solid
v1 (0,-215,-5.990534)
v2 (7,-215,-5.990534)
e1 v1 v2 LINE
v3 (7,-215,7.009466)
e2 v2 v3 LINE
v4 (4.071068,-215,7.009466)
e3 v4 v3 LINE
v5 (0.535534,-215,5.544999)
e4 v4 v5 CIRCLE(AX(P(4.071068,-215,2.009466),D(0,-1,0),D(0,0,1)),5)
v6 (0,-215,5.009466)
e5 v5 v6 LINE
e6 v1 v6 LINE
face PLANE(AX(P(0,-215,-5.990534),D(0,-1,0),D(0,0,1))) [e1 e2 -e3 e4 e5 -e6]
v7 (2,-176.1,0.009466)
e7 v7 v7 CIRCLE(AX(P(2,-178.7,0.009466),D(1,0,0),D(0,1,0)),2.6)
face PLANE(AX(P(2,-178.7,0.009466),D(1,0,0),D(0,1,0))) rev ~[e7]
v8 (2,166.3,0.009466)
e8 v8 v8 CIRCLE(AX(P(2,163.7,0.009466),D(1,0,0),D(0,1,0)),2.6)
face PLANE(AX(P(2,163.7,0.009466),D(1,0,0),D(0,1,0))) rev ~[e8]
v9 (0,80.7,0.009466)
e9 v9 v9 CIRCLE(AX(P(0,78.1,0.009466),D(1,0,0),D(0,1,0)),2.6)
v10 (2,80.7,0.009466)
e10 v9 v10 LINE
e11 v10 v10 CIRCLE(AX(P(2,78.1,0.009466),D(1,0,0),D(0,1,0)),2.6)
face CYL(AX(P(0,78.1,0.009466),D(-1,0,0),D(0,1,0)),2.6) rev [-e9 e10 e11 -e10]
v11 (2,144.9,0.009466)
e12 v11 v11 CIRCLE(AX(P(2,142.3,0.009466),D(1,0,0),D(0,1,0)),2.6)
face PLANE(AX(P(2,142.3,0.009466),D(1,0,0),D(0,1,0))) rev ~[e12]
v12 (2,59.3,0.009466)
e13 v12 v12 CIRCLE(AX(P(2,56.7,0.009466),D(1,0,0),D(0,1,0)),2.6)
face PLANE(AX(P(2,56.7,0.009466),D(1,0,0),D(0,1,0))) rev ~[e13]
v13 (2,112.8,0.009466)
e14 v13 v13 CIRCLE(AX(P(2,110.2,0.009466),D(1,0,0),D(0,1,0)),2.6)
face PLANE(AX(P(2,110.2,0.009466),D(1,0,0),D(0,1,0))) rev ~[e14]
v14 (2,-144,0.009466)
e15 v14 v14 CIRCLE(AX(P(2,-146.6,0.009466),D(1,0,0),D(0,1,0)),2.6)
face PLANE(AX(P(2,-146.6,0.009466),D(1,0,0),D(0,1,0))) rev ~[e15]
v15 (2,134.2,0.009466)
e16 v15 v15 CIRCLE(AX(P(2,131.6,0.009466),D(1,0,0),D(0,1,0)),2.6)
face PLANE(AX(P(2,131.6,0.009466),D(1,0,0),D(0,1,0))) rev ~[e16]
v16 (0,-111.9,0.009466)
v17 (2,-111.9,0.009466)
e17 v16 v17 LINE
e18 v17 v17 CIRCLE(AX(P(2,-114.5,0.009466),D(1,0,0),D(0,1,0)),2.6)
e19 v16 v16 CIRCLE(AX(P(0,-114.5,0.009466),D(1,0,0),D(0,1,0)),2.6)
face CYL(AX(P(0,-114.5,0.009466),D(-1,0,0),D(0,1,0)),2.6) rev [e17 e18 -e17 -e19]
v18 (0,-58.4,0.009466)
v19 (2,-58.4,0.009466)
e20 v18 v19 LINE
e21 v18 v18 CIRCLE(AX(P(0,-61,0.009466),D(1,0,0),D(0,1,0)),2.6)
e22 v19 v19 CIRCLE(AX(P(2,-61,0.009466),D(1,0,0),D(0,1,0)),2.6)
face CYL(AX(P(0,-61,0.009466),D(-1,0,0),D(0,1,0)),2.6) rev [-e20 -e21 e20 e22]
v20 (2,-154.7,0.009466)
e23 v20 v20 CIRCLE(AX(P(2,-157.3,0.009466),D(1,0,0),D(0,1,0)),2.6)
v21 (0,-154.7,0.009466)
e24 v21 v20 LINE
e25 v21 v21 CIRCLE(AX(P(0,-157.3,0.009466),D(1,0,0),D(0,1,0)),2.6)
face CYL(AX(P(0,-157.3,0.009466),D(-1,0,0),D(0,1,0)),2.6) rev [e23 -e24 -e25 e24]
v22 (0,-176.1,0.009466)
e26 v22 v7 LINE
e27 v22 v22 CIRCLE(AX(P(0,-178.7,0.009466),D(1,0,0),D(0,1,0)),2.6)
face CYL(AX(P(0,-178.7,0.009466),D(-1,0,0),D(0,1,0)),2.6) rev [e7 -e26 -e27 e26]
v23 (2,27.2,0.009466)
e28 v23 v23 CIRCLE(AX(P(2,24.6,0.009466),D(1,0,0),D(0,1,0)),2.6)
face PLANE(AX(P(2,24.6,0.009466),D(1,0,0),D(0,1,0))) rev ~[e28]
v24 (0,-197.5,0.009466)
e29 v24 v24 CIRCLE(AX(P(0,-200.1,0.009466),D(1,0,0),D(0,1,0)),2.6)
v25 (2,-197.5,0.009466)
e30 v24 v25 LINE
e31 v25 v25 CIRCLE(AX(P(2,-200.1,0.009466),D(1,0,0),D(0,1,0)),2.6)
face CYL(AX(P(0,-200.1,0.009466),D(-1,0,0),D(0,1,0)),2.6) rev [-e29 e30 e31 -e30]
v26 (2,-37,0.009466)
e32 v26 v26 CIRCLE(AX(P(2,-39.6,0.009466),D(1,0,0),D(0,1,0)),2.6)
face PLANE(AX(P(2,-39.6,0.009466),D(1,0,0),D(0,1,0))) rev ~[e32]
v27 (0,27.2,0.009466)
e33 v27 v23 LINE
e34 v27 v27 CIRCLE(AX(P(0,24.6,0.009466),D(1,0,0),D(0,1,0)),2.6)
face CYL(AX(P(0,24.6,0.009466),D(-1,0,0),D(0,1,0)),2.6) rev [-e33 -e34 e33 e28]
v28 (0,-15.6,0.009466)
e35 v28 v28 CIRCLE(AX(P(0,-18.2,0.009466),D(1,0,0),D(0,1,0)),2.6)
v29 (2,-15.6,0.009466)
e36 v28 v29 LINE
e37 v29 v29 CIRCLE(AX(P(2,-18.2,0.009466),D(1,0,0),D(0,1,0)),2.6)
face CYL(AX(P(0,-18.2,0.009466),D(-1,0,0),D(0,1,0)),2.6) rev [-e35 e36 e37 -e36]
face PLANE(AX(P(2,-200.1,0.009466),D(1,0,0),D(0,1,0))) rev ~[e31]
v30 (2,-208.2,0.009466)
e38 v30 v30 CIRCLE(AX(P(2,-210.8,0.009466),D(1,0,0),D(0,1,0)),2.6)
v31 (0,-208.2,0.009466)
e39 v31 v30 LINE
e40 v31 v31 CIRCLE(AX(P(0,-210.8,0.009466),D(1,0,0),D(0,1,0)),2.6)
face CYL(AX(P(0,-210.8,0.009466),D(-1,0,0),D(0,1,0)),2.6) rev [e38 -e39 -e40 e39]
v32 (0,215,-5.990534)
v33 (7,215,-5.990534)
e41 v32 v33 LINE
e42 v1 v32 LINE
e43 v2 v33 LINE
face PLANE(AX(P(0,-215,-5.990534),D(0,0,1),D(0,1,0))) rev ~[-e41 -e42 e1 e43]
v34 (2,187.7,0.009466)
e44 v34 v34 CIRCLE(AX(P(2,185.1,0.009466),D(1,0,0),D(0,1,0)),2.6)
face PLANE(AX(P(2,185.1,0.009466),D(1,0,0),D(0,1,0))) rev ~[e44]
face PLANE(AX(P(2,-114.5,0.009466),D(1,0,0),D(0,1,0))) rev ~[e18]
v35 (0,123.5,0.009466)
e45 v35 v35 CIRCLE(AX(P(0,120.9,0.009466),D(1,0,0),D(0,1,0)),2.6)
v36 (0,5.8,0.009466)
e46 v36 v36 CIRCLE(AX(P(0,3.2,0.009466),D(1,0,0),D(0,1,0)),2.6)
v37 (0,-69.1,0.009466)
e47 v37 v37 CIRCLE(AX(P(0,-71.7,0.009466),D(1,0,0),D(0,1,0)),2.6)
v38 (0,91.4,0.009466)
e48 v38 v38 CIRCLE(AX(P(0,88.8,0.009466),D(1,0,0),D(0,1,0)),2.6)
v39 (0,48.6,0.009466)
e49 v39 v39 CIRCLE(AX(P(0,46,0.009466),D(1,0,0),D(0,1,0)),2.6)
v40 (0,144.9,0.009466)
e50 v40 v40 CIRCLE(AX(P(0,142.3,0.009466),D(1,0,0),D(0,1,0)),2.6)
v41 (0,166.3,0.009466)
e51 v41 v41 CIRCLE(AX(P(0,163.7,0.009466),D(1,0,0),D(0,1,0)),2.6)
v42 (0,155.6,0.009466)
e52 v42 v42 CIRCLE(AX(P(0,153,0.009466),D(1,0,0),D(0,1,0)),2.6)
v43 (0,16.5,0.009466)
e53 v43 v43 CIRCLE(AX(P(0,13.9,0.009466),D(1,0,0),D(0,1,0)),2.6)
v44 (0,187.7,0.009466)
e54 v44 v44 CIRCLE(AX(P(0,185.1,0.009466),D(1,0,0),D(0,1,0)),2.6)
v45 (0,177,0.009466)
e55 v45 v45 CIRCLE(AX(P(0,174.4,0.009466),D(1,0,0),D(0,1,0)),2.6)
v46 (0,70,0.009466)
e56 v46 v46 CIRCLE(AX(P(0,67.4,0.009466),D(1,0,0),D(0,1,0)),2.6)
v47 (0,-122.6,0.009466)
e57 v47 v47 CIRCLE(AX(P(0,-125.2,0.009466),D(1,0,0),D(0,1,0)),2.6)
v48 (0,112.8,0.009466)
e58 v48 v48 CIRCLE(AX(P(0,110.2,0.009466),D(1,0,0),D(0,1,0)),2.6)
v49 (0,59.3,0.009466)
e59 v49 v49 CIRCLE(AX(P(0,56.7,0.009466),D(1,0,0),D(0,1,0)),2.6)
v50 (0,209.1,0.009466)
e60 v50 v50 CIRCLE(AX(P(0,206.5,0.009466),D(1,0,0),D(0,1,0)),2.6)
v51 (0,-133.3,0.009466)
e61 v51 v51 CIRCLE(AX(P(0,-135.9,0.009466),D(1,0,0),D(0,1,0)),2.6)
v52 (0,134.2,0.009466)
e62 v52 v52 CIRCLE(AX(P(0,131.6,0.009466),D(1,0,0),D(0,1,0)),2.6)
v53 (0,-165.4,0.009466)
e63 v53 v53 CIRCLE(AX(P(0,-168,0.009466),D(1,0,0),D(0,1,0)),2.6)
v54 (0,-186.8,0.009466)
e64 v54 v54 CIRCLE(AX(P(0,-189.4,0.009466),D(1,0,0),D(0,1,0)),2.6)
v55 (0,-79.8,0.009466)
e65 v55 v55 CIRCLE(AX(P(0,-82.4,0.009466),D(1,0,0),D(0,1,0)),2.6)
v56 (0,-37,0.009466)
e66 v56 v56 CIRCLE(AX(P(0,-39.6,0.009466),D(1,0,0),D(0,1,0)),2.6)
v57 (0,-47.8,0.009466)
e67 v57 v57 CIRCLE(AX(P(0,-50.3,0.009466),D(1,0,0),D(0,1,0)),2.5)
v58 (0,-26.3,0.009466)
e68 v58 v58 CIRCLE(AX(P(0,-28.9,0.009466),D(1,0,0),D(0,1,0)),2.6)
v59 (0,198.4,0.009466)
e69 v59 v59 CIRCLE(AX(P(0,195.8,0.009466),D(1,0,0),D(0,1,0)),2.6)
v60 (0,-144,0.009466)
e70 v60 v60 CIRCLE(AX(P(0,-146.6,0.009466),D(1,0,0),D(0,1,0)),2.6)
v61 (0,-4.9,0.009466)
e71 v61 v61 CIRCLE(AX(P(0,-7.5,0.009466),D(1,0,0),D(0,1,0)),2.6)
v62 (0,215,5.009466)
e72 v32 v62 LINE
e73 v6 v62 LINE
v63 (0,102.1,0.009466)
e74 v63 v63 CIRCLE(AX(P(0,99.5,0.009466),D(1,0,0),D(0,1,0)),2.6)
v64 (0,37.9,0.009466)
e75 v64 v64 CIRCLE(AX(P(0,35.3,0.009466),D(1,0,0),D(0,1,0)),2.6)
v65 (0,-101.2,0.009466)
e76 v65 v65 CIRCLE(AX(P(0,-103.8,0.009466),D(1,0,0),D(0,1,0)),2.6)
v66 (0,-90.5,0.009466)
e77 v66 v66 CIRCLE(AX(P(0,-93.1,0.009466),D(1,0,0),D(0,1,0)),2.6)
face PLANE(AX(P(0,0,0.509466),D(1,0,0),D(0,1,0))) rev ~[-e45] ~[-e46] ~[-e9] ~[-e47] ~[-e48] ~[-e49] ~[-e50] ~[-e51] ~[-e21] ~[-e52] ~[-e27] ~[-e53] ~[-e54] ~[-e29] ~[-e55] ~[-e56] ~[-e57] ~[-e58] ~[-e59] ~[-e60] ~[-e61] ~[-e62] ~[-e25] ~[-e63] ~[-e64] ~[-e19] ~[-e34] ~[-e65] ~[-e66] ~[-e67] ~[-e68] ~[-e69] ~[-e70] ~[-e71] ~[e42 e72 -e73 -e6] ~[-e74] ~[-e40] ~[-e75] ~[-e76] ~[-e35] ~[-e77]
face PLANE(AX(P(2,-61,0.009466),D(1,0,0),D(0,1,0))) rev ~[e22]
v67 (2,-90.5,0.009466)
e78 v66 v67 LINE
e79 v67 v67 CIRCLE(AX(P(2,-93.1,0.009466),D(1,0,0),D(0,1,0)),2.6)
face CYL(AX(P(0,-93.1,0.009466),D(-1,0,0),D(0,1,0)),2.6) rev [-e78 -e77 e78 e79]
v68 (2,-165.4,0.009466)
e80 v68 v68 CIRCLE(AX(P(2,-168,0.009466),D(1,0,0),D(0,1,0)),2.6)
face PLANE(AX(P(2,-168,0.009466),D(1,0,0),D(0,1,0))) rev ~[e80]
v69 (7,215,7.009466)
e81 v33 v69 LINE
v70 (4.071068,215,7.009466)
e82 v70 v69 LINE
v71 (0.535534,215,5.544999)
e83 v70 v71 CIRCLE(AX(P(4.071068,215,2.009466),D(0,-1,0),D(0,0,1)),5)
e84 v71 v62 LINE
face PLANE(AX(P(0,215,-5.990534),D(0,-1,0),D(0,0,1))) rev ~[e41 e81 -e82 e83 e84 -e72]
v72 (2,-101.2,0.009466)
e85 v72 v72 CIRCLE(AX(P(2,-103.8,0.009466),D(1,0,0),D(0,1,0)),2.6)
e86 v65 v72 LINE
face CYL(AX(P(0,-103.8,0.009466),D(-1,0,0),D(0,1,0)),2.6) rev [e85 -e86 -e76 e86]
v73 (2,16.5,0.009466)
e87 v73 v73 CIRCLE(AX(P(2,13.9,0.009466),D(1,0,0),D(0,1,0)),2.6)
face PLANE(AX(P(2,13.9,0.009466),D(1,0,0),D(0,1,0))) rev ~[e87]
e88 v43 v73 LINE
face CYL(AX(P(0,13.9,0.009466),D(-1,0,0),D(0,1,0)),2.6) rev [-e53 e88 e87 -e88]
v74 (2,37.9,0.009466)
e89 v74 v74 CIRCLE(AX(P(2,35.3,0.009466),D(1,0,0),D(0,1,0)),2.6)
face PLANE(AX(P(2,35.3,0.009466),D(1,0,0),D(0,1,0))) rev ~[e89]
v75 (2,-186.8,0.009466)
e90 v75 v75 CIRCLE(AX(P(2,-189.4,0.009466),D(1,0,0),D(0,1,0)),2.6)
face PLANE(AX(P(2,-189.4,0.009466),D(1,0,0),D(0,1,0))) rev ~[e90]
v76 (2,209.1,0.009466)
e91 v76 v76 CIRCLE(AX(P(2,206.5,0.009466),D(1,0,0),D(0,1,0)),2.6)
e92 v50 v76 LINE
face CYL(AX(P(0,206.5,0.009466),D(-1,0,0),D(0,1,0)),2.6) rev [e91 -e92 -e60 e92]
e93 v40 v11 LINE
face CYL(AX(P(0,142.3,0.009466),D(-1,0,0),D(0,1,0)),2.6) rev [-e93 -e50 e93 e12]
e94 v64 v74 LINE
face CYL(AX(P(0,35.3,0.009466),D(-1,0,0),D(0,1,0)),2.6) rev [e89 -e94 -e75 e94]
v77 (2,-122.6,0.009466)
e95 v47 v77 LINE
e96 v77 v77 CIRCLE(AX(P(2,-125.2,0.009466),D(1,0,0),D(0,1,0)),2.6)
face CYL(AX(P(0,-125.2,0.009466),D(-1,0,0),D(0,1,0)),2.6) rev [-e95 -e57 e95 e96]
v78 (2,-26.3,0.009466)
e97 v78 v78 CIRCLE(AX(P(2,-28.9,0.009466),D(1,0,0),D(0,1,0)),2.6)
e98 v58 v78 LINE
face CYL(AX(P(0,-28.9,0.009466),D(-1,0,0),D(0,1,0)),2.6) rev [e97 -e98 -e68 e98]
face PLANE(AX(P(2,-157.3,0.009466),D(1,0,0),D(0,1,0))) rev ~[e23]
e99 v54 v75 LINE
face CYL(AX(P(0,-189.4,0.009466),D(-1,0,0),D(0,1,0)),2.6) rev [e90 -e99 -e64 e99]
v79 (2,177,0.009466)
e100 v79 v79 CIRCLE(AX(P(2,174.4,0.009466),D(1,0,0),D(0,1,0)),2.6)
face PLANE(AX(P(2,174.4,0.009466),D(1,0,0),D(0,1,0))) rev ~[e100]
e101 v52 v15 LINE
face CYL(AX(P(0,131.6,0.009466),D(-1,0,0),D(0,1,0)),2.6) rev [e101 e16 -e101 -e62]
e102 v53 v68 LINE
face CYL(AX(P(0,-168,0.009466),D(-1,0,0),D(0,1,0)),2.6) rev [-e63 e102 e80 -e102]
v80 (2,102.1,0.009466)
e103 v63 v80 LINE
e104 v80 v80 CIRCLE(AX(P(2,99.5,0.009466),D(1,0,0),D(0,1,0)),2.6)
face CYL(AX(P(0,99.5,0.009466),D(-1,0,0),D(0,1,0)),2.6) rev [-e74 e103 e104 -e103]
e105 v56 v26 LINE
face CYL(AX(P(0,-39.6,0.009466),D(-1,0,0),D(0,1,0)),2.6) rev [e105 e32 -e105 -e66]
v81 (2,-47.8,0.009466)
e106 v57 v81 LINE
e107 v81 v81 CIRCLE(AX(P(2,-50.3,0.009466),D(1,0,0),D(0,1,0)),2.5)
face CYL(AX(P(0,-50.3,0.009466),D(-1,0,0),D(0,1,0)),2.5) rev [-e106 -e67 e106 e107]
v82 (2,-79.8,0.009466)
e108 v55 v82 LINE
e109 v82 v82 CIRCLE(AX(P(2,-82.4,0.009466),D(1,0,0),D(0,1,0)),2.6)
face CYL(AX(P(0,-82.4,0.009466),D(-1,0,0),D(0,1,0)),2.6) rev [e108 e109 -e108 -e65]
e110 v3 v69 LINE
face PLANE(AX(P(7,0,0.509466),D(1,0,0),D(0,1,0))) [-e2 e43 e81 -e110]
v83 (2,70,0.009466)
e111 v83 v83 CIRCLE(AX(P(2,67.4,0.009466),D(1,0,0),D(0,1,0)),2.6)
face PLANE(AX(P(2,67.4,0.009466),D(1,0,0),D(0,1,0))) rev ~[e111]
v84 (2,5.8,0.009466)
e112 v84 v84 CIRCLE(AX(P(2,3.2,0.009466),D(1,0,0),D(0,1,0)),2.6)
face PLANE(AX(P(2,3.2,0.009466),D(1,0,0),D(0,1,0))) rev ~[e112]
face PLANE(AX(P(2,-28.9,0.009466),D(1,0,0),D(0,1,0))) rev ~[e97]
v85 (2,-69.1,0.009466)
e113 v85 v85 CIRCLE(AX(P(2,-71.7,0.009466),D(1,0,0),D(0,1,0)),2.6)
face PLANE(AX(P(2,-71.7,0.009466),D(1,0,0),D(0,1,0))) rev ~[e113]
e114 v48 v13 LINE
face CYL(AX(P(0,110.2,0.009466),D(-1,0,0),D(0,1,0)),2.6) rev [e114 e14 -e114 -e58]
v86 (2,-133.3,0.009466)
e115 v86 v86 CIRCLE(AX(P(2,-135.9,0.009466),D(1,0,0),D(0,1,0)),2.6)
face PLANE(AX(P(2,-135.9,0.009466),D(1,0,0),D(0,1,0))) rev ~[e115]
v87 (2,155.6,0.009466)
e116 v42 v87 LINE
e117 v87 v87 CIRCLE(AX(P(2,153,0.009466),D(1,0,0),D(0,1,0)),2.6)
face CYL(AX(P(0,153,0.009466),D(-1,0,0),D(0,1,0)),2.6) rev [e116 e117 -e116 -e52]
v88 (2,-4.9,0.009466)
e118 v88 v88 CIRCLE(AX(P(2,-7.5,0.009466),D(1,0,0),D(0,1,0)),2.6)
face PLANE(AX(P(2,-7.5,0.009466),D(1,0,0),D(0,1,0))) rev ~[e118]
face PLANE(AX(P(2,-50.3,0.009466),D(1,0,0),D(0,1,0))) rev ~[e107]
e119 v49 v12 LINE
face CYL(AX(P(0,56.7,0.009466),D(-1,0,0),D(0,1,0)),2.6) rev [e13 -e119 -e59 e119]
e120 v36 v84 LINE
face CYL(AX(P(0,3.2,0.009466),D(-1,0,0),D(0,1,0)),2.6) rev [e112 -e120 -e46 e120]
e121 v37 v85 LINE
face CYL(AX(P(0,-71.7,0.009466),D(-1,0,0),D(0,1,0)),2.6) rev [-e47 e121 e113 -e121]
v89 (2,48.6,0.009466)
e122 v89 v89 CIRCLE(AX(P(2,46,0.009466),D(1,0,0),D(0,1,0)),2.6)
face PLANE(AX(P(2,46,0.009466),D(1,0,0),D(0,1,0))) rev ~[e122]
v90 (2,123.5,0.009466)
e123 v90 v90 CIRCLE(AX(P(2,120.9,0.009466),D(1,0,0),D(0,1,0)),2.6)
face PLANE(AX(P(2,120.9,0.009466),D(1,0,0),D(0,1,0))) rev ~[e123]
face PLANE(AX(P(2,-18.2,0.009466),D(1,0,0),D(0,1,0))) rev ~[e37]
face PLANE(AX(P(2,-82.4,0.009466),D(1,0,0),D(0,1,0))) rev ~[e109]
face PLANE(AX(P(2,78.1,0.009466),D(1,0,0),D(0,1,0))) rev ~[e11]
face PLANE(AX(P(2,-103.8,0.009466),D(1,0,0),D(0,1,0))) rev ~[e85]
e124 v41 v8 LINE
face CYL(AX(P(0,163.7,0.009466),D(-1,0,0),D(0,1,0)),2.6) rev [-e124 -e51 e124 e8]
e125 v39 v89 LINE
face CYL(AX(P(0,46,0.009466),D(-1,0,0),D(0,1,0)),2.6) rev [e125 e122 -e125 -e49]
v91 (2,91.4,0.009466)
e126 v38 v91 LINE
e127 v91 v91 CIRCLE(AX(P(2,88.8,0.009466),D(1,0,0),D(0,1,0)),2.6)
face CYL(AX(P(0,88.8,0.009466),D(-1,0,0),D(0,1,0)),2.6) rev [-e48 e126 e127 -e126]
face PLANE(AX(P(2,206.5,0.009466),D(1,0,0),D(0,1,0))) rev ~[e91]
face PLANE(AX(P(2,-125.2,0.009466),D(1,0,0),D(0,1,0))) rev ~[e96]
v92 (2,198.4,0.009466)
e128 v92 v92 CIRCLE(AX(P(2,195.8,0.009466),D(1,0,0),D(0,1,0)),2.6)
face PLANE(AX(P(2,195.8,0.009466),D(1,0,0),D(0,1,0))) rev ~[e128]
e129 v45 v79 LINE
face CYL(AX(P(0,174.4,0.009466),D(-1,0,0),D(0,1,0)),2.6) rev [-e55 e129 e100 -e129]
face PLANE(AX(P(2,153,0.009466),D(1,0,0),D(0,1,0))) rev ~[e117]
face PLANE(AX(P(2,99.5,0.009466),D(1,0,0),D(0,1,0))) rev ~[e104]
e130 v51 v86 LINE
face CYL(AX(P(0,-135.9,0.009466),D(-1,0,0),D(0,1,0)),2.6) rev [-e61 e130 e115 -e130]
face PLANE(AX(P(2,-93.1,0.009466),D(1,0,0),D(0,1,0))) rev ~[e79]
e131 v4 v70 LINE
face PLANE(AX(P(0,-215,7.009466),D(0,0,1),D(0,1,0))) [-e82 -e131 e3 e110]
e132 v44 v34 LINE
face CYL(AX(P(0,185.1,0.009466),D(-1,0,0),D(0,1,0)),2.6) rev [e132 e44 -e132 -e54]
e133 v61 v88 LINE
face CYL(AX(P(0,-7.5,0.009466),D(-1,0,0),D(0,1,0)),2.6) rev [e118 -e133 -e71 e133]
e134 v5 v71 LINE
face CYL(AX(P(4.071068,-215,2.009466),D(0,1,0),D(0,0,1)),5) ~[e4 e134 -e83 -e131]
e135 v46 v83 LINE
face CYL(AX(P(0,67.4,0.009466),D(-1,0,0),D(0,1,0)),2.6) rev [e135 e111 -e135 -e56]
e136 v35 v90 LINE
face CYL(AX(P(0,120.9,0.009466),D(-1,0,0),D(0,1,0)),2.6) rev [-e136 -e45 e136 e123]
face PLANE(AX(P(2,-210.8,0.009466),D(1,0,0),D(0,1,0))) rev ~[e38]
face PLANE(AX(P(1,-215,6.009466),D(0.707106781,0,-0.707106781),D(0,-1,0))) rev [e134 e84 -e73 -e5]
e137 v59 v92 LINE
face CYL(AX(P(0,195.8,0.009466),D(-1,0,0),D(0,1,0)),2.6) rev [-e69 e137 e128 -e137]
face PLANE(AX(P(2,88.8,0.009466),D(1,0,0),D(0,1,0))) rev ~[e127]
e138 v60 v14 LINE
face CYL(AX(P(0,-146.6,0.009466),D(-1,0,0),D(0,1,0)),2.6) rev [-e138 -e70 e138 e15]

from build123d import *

# Parameters (mm, degrees)
F0_W     = 430
F0_H     = 13
F0_R     = 2.6
F0_R_2   = 2.5
F1_DEPTH = 7
F2_DEPTH = 2
F3_SIZE  = 2
F4_R     = 5


with BuildPart() as f1:
    # F0 (on Right) → F1 (new body)
    with BuildSketch(Plane.YZ):
        with Locations((0, 0.5094655789)):
            Rectangle(F0_W, F0_H)
        with Locations((-210.8, 0.0094655789)):
            Circle(F0_R, mode=Mode.SUBTRACT)
        with Locations((-200.1, 0.0094655789)):
            Circle(F0_R, mode=Mode.SUBTRACT)
        with Locations((-189.4, 0.0094655789)):
            Circle(F0_R, mode=Mode.SUBTRACT)
        with Locations((-178.7, 0.0094655789)):
            Circle(F0_R, mode=Mode.SUBTRACT)
        with Locations((-168, 0.0094655789)):
            Circle(F0_R, mode=Mode.SUBTRACT)
        with Locations((-157.3, 0.0094655789)):
            Circle(F0_R, mode=Mode.SUBTRACT)
        with Locations((-146.6, 0.0094655789)):
            Circle(F0_R, mode=Mode.SUBTRACT)
        with Locations((-135.9, 0.0094655789)):
            Circle(F0_R, mode=Mode.SUBTRACT)
        with Locations((-125.2, 0.0094655789)):
            Circle(F0_R, mode=Mode.SUBTRACT)
        with Locations((-114.5, 0.0094655789)):
            Circle(F0_R, mode=Mode.SUBTRACT)
        with Locations((-103.8, 0.0094655789)):
            Circle(F0_R, mode=Mode.SUBTRACT)
        with Locations((-93.1, 0.0094655789)):
            Circle(F0_R, mode=Mode.SUBTRACT)
        with Locations((-82.4, 0.0094655789)):
            Circle(F0_R, mode=Mode.SUBTRACT)
        with Locations((-71.7, 0.0094655789)):
            Circle(F0_R, mode=Mode.SUBTRACT)
        with Locations((-61, 0.0094655789)):
            Circle(F0_R, mode=Mode.SUBTRACT)
        with Locations((-50.3, 0.0094655789)):
            Circle(F0_R_2, mode=Mode.SUBTRACT)
        with Locations((-39.6, 0.0094655789)):
            Circle(F0_R, mode=Mode.SUBTRACT)
        with Locations((-28.9, 0.0094655789)):
            Circle(F0_R, mode=Mode.SUBTRACT)
        with Locations((-18.2, 0.0094655789)):
            Circle(F0_R, mode=Mode.SUBTRACT)
        with Locations((-7.5, 0.0094655789)):
            Circle(F0_R, mode=Mode.SUBTRACT)
        with Locations((3.2, 0.0094655789)):
            Circle(F0_R, mode=Mode.SUBTRACT)
        with Locations((13.9, 0.0094655789)):
            Circle(F0_R, mode=Mode.SUBTRACT)
        with Locations((24.6, 0.0094655789)):
            Circle(F0_R, mode=Mode.SUBTRACT)
        with Locations((35.3, 0.0094655789)):
            Circle(F0_R, mode=Mode.SUBTRACT)
        with Locations((46, 0.0094655789)):
            Circle(F0_R, mode=Mode.SUBTRACT)
        with Locations((56.7, 0.0094655789)):
            Circle(F0_R, mode=Mode.SUBTRACT)
        with Locations((67.4, 0.0094655789)):
            Circle(F0_R, mode=Mode.SUBTRACT)
        with Locations((78.1, 0.0094655789)):
            Circle(F0_R, mode=Mode.SUBTRACT)
        with Locations((88.8, 0.0094655789)):
            Circle(F0_R, mode=Mode.SUBTRACT)
        with Locations((99.5, 0.0094655789)):
            Circle(F0_R, mode=Mode.SUBTRACT)
        with Locations((110.2, 0.0094655789)):
            Circle(F0_R, mode=Mode.SUBTRACT)
        with Locations((120.9, 0.0094655789)):
            Circle(F0_R, mode=Mode.SUBTRACT)
        with Locations((131.6, 0.0094655789)):
            Circle(F0_R, mode=Mode.SUBTRACT)
        with Locations((142.3, 0.0094655789)):
            Circle(F0_R, mode=Mode.SUBTRACT)
        with Locations((153, 0.0094655789)):
            Circle(F0_R, mode=Mode.SUBTRACT)
        with Locations((163.7, 0.0094655789)):
            Circle(F0_R, mode=Mode.SUBTRACT)
        with Locations((174.4, 0.0094655789)):
            Circle(F0_R, mode=Mode.SUBTRACT)
        with Locations((185.1, 0.0094655789)):
            Circle(F0_R, mode=Mode.SUBTRACT)
        with Locations((195.8, 0.0094655789)):
            Circle(F0_R, mode=Mode.SUBTRACT)
        with Locations((206.5, 0.0094655789)):
            Circle(F0_R, mode=Mode.SUBTRACT)
        with Locations((-135.9, 0.0094655789)):
            Circle(F0_R)
        with Locations((35.3, 0.0094655789)):
            Circle(F0_R)
        with Locations((56.7, 0.0094655789)):
            Circle(F0_R)
        with Locations((67.4, 0.0094655789)):
            Circle(F0_R)
        with Locations((-125.2, 0.0094655789)):
            Circle(F0_R)
        with Locations((-178.7, 0.0094655789)):
            Circle(F0_R)
        with Locations((-103.8, 0.0094655789)):
            Circle(F0_R)
        with Locations((46, 0.0094655789)):
            Circle(F0_R)
        with Locations((-157.3, 0.0094655789)):
            Circle(F0_R)
        with Locations((-7.5, 0.0094655789)):
            Circle(F0_R)
        with Locations((13.9, 0.0094655789)):
            Circle(F0_R)
        with Locations((-28.9, 0.0094655789)):
            Circle(F0_R)
        with Locations((-200.1, 0.0094655789)):
            Circle(F0_R)
        with Locations((-50.3, 0.0094655789)):
            Circle(F0_R_2)
        with Locations((-93.1, 0.0094655789)):
            Circle(F0_R)
        with Locations((-146.6, 0.0094655789)):
            Circle(F0_R)
        with Locations((24.6, 0.0094655789)):
            Circle(F0_R)
        with Locations((-189.4, 0.0094655789)):
            Circle(F0_R)
        with Locations((-114.5, 0.0094655789)):
            Circle(F0_R)
        with Locations((-18.2, 0.0094655789)):
            Circle(F0_R)
        with Locations((-39.6, 0.0094655789)):
            Circle(F0_R)
        with Locations((-82.4, 0.0094655789)):
            Circle(F0_R)
        with Locations((78.1, 0.0094655789)):
            Circle(F0_R)
        with Locations((88.8, 0.0094655789)):
            Circle(F0_R)
        with Locations((99.5, 0.0094655789)):
            Circle(F0_R)
        with Locations((110.2, 0.0094655789)):
            Circle(F0_R)
        with Locations((120.9, 0.0094655789)):
            Circle(F0_R)
        with Locations((131.6, 0.0094655789)):
            Circle(F0_R)
        with Locations((142.3, 0.0094655789)):
            Circle(F0_R)
        with Locations((-71.7, 0.0094655789)):
            Circle(F0_R)
        with Locations((153, 0.0094655789)):
            Circle(F0_R)
        with Locations((163.7, 0.0094655789)):
            Circle(F0_R)
        with Locations((174.4, 0.0094655789)):
            Circle(F0_R)
        with Locations((185.1, 0.0094655789)):
            Circle(F0_R)
        with Locations((-168, 0.0094655789)):
            Circle(F0_R)
        with Locations((3.2, 0.0094655789)):
            Circle(F0_R)
        with Locations((195.8, 0.0094655789)):
            Circle(F0_R)
        with Locations((206.5, 0.0094655789)):
            Circle(F0_R)
        with Locations((-61, 0.0094655789)):
            Circle(F0_R)
        with Locations((-210.8, 0.0094655789)):
            Circle(F0_R)
    extrude(amount=F1_DEPTH)

    # F0 (on Right) → F2 (cut)
    with BuildSketch(Plane.YZ):
        with Locations((206.5, 0.0094655789)):
            Circle(F0_R)
        with Locations((195.8, 0.0094655789)):
            Circle(F0_R)
        with Locations((185.1, 0.0094655789)):
            Circle(F0_R)
        with Locations((174.4, 0.0094655789)):
            Circle(F0_R)
        with Locations((163.7, 0.0094655789)):
            Circle(F0_R)
        with Locations((153, 0.0094655789)):
            Circle(F0_R)
        with Locations((142.3, 0.0094655789)):
            Circle(F0_R)
        with Locations((131.6, 0.0094655789)):
            Circle(F0_R)
        with Locations((120.9, 0.0094655789)):
            Circle(F0_R)
        with Locations((110.2, 0.0094655789)):
            Circle(F0_R)
        with Locations((99.5, 0.0094655789)):
            Circle(F0_R)
        with Locations((88.8, 0.0094655789)):
            Circle(F0_R)
        with Locations((78.1, 0.0094655789)):
            Circle(F0_R)
        with Locations((67.4, 0.0094655789)):
            Circle(F0_R)
        with Locations((56.7, 0.0094655789)):
            Circle(F0_R)
        with Locations((46, 0.0094655789)):
            Circle(F0_R)
        with Locations((35.3, 0.0094655789)):
            Circle(F0_R)
        with Locations((24.6, 0.0094655789)):
            Circle(F0_R)
        with Locations((13.9, 0.0094655789)):
            Circle(F0_R)
        with Locations((3.2, 0.0094655789)):
            Circle(F0_R)
        with Locations((-7.5, 0.0094655789)):
            Circle(F0_R)
        with Locations((-18.2, 0.0094655789)):
            Circle(F0_R)
        with Locations((-28.9, 0.0094655789)):
            Circle(F0_R)
        with Locations((-39.6, 0.0094655789)):
            Circle(F0_R)
        with Locations((-50.3, 0.0094655789)):
            Circle(F0_R_2)
        with Locations((-61, 0.0094655789)):
            Circle(F0_R)
        with Locations((-71.7, 0.0094655789)):
            Circle(F0_R)
        with Locations((-82.4, 0.0094655789)):
            Circle(F0_R)
        with Locations((-93.1, 0.0094655789)):
            Circle(F0_R)
        with Locations((-103.8, 0.0094655789)):
            Circle(F0_R)
        with Locations((-114.5, 0.0094655789)):
            Circle(F0_R)
        with Locations((-125.2, 0.0094655789)):
            Circle(F0_R)
        with Locations((-135.9, 0.0094655789)):
            Circle(F0_R)
        with Locations((-146.6, 0.0094655789)):
            Circle(F0_R)
        with Locations((-157.3, 0.0094655789)):
            Circle(F0_R)
        with Locations((-178.7, 0.0094655789)):
            Circle(F0_R)
        with Locations((-189.4, 0.0094655789)):
            Circle(F0_R)
        with Locations((-200.1, 0.0094655789)):
            Circle(F0_R)
        with Locations((-210.8, 0.0094655789)):
            Circle(F0_R)
        with Locations((-168, 0.0094655789)):
            Circle(F0_R)
    extrude(amount=F2_DEPTH, mode=Mode.SUBTRACT)

    # F3
    f3_edges = [f1.edges().sort_by_distance(p)[0] for p in [
        (0, 0, 7.009466),
    ]]
    chamfer(f3_edges, length=F3_SIZE)

    # F4
    f4_edges = [f1.edges().sort_by_distance(p)[0] for p in [
        (2, 0, 7.009466),
    ]]
    fillet(f4_edges, radius=F4_R)


solid = f1.part
